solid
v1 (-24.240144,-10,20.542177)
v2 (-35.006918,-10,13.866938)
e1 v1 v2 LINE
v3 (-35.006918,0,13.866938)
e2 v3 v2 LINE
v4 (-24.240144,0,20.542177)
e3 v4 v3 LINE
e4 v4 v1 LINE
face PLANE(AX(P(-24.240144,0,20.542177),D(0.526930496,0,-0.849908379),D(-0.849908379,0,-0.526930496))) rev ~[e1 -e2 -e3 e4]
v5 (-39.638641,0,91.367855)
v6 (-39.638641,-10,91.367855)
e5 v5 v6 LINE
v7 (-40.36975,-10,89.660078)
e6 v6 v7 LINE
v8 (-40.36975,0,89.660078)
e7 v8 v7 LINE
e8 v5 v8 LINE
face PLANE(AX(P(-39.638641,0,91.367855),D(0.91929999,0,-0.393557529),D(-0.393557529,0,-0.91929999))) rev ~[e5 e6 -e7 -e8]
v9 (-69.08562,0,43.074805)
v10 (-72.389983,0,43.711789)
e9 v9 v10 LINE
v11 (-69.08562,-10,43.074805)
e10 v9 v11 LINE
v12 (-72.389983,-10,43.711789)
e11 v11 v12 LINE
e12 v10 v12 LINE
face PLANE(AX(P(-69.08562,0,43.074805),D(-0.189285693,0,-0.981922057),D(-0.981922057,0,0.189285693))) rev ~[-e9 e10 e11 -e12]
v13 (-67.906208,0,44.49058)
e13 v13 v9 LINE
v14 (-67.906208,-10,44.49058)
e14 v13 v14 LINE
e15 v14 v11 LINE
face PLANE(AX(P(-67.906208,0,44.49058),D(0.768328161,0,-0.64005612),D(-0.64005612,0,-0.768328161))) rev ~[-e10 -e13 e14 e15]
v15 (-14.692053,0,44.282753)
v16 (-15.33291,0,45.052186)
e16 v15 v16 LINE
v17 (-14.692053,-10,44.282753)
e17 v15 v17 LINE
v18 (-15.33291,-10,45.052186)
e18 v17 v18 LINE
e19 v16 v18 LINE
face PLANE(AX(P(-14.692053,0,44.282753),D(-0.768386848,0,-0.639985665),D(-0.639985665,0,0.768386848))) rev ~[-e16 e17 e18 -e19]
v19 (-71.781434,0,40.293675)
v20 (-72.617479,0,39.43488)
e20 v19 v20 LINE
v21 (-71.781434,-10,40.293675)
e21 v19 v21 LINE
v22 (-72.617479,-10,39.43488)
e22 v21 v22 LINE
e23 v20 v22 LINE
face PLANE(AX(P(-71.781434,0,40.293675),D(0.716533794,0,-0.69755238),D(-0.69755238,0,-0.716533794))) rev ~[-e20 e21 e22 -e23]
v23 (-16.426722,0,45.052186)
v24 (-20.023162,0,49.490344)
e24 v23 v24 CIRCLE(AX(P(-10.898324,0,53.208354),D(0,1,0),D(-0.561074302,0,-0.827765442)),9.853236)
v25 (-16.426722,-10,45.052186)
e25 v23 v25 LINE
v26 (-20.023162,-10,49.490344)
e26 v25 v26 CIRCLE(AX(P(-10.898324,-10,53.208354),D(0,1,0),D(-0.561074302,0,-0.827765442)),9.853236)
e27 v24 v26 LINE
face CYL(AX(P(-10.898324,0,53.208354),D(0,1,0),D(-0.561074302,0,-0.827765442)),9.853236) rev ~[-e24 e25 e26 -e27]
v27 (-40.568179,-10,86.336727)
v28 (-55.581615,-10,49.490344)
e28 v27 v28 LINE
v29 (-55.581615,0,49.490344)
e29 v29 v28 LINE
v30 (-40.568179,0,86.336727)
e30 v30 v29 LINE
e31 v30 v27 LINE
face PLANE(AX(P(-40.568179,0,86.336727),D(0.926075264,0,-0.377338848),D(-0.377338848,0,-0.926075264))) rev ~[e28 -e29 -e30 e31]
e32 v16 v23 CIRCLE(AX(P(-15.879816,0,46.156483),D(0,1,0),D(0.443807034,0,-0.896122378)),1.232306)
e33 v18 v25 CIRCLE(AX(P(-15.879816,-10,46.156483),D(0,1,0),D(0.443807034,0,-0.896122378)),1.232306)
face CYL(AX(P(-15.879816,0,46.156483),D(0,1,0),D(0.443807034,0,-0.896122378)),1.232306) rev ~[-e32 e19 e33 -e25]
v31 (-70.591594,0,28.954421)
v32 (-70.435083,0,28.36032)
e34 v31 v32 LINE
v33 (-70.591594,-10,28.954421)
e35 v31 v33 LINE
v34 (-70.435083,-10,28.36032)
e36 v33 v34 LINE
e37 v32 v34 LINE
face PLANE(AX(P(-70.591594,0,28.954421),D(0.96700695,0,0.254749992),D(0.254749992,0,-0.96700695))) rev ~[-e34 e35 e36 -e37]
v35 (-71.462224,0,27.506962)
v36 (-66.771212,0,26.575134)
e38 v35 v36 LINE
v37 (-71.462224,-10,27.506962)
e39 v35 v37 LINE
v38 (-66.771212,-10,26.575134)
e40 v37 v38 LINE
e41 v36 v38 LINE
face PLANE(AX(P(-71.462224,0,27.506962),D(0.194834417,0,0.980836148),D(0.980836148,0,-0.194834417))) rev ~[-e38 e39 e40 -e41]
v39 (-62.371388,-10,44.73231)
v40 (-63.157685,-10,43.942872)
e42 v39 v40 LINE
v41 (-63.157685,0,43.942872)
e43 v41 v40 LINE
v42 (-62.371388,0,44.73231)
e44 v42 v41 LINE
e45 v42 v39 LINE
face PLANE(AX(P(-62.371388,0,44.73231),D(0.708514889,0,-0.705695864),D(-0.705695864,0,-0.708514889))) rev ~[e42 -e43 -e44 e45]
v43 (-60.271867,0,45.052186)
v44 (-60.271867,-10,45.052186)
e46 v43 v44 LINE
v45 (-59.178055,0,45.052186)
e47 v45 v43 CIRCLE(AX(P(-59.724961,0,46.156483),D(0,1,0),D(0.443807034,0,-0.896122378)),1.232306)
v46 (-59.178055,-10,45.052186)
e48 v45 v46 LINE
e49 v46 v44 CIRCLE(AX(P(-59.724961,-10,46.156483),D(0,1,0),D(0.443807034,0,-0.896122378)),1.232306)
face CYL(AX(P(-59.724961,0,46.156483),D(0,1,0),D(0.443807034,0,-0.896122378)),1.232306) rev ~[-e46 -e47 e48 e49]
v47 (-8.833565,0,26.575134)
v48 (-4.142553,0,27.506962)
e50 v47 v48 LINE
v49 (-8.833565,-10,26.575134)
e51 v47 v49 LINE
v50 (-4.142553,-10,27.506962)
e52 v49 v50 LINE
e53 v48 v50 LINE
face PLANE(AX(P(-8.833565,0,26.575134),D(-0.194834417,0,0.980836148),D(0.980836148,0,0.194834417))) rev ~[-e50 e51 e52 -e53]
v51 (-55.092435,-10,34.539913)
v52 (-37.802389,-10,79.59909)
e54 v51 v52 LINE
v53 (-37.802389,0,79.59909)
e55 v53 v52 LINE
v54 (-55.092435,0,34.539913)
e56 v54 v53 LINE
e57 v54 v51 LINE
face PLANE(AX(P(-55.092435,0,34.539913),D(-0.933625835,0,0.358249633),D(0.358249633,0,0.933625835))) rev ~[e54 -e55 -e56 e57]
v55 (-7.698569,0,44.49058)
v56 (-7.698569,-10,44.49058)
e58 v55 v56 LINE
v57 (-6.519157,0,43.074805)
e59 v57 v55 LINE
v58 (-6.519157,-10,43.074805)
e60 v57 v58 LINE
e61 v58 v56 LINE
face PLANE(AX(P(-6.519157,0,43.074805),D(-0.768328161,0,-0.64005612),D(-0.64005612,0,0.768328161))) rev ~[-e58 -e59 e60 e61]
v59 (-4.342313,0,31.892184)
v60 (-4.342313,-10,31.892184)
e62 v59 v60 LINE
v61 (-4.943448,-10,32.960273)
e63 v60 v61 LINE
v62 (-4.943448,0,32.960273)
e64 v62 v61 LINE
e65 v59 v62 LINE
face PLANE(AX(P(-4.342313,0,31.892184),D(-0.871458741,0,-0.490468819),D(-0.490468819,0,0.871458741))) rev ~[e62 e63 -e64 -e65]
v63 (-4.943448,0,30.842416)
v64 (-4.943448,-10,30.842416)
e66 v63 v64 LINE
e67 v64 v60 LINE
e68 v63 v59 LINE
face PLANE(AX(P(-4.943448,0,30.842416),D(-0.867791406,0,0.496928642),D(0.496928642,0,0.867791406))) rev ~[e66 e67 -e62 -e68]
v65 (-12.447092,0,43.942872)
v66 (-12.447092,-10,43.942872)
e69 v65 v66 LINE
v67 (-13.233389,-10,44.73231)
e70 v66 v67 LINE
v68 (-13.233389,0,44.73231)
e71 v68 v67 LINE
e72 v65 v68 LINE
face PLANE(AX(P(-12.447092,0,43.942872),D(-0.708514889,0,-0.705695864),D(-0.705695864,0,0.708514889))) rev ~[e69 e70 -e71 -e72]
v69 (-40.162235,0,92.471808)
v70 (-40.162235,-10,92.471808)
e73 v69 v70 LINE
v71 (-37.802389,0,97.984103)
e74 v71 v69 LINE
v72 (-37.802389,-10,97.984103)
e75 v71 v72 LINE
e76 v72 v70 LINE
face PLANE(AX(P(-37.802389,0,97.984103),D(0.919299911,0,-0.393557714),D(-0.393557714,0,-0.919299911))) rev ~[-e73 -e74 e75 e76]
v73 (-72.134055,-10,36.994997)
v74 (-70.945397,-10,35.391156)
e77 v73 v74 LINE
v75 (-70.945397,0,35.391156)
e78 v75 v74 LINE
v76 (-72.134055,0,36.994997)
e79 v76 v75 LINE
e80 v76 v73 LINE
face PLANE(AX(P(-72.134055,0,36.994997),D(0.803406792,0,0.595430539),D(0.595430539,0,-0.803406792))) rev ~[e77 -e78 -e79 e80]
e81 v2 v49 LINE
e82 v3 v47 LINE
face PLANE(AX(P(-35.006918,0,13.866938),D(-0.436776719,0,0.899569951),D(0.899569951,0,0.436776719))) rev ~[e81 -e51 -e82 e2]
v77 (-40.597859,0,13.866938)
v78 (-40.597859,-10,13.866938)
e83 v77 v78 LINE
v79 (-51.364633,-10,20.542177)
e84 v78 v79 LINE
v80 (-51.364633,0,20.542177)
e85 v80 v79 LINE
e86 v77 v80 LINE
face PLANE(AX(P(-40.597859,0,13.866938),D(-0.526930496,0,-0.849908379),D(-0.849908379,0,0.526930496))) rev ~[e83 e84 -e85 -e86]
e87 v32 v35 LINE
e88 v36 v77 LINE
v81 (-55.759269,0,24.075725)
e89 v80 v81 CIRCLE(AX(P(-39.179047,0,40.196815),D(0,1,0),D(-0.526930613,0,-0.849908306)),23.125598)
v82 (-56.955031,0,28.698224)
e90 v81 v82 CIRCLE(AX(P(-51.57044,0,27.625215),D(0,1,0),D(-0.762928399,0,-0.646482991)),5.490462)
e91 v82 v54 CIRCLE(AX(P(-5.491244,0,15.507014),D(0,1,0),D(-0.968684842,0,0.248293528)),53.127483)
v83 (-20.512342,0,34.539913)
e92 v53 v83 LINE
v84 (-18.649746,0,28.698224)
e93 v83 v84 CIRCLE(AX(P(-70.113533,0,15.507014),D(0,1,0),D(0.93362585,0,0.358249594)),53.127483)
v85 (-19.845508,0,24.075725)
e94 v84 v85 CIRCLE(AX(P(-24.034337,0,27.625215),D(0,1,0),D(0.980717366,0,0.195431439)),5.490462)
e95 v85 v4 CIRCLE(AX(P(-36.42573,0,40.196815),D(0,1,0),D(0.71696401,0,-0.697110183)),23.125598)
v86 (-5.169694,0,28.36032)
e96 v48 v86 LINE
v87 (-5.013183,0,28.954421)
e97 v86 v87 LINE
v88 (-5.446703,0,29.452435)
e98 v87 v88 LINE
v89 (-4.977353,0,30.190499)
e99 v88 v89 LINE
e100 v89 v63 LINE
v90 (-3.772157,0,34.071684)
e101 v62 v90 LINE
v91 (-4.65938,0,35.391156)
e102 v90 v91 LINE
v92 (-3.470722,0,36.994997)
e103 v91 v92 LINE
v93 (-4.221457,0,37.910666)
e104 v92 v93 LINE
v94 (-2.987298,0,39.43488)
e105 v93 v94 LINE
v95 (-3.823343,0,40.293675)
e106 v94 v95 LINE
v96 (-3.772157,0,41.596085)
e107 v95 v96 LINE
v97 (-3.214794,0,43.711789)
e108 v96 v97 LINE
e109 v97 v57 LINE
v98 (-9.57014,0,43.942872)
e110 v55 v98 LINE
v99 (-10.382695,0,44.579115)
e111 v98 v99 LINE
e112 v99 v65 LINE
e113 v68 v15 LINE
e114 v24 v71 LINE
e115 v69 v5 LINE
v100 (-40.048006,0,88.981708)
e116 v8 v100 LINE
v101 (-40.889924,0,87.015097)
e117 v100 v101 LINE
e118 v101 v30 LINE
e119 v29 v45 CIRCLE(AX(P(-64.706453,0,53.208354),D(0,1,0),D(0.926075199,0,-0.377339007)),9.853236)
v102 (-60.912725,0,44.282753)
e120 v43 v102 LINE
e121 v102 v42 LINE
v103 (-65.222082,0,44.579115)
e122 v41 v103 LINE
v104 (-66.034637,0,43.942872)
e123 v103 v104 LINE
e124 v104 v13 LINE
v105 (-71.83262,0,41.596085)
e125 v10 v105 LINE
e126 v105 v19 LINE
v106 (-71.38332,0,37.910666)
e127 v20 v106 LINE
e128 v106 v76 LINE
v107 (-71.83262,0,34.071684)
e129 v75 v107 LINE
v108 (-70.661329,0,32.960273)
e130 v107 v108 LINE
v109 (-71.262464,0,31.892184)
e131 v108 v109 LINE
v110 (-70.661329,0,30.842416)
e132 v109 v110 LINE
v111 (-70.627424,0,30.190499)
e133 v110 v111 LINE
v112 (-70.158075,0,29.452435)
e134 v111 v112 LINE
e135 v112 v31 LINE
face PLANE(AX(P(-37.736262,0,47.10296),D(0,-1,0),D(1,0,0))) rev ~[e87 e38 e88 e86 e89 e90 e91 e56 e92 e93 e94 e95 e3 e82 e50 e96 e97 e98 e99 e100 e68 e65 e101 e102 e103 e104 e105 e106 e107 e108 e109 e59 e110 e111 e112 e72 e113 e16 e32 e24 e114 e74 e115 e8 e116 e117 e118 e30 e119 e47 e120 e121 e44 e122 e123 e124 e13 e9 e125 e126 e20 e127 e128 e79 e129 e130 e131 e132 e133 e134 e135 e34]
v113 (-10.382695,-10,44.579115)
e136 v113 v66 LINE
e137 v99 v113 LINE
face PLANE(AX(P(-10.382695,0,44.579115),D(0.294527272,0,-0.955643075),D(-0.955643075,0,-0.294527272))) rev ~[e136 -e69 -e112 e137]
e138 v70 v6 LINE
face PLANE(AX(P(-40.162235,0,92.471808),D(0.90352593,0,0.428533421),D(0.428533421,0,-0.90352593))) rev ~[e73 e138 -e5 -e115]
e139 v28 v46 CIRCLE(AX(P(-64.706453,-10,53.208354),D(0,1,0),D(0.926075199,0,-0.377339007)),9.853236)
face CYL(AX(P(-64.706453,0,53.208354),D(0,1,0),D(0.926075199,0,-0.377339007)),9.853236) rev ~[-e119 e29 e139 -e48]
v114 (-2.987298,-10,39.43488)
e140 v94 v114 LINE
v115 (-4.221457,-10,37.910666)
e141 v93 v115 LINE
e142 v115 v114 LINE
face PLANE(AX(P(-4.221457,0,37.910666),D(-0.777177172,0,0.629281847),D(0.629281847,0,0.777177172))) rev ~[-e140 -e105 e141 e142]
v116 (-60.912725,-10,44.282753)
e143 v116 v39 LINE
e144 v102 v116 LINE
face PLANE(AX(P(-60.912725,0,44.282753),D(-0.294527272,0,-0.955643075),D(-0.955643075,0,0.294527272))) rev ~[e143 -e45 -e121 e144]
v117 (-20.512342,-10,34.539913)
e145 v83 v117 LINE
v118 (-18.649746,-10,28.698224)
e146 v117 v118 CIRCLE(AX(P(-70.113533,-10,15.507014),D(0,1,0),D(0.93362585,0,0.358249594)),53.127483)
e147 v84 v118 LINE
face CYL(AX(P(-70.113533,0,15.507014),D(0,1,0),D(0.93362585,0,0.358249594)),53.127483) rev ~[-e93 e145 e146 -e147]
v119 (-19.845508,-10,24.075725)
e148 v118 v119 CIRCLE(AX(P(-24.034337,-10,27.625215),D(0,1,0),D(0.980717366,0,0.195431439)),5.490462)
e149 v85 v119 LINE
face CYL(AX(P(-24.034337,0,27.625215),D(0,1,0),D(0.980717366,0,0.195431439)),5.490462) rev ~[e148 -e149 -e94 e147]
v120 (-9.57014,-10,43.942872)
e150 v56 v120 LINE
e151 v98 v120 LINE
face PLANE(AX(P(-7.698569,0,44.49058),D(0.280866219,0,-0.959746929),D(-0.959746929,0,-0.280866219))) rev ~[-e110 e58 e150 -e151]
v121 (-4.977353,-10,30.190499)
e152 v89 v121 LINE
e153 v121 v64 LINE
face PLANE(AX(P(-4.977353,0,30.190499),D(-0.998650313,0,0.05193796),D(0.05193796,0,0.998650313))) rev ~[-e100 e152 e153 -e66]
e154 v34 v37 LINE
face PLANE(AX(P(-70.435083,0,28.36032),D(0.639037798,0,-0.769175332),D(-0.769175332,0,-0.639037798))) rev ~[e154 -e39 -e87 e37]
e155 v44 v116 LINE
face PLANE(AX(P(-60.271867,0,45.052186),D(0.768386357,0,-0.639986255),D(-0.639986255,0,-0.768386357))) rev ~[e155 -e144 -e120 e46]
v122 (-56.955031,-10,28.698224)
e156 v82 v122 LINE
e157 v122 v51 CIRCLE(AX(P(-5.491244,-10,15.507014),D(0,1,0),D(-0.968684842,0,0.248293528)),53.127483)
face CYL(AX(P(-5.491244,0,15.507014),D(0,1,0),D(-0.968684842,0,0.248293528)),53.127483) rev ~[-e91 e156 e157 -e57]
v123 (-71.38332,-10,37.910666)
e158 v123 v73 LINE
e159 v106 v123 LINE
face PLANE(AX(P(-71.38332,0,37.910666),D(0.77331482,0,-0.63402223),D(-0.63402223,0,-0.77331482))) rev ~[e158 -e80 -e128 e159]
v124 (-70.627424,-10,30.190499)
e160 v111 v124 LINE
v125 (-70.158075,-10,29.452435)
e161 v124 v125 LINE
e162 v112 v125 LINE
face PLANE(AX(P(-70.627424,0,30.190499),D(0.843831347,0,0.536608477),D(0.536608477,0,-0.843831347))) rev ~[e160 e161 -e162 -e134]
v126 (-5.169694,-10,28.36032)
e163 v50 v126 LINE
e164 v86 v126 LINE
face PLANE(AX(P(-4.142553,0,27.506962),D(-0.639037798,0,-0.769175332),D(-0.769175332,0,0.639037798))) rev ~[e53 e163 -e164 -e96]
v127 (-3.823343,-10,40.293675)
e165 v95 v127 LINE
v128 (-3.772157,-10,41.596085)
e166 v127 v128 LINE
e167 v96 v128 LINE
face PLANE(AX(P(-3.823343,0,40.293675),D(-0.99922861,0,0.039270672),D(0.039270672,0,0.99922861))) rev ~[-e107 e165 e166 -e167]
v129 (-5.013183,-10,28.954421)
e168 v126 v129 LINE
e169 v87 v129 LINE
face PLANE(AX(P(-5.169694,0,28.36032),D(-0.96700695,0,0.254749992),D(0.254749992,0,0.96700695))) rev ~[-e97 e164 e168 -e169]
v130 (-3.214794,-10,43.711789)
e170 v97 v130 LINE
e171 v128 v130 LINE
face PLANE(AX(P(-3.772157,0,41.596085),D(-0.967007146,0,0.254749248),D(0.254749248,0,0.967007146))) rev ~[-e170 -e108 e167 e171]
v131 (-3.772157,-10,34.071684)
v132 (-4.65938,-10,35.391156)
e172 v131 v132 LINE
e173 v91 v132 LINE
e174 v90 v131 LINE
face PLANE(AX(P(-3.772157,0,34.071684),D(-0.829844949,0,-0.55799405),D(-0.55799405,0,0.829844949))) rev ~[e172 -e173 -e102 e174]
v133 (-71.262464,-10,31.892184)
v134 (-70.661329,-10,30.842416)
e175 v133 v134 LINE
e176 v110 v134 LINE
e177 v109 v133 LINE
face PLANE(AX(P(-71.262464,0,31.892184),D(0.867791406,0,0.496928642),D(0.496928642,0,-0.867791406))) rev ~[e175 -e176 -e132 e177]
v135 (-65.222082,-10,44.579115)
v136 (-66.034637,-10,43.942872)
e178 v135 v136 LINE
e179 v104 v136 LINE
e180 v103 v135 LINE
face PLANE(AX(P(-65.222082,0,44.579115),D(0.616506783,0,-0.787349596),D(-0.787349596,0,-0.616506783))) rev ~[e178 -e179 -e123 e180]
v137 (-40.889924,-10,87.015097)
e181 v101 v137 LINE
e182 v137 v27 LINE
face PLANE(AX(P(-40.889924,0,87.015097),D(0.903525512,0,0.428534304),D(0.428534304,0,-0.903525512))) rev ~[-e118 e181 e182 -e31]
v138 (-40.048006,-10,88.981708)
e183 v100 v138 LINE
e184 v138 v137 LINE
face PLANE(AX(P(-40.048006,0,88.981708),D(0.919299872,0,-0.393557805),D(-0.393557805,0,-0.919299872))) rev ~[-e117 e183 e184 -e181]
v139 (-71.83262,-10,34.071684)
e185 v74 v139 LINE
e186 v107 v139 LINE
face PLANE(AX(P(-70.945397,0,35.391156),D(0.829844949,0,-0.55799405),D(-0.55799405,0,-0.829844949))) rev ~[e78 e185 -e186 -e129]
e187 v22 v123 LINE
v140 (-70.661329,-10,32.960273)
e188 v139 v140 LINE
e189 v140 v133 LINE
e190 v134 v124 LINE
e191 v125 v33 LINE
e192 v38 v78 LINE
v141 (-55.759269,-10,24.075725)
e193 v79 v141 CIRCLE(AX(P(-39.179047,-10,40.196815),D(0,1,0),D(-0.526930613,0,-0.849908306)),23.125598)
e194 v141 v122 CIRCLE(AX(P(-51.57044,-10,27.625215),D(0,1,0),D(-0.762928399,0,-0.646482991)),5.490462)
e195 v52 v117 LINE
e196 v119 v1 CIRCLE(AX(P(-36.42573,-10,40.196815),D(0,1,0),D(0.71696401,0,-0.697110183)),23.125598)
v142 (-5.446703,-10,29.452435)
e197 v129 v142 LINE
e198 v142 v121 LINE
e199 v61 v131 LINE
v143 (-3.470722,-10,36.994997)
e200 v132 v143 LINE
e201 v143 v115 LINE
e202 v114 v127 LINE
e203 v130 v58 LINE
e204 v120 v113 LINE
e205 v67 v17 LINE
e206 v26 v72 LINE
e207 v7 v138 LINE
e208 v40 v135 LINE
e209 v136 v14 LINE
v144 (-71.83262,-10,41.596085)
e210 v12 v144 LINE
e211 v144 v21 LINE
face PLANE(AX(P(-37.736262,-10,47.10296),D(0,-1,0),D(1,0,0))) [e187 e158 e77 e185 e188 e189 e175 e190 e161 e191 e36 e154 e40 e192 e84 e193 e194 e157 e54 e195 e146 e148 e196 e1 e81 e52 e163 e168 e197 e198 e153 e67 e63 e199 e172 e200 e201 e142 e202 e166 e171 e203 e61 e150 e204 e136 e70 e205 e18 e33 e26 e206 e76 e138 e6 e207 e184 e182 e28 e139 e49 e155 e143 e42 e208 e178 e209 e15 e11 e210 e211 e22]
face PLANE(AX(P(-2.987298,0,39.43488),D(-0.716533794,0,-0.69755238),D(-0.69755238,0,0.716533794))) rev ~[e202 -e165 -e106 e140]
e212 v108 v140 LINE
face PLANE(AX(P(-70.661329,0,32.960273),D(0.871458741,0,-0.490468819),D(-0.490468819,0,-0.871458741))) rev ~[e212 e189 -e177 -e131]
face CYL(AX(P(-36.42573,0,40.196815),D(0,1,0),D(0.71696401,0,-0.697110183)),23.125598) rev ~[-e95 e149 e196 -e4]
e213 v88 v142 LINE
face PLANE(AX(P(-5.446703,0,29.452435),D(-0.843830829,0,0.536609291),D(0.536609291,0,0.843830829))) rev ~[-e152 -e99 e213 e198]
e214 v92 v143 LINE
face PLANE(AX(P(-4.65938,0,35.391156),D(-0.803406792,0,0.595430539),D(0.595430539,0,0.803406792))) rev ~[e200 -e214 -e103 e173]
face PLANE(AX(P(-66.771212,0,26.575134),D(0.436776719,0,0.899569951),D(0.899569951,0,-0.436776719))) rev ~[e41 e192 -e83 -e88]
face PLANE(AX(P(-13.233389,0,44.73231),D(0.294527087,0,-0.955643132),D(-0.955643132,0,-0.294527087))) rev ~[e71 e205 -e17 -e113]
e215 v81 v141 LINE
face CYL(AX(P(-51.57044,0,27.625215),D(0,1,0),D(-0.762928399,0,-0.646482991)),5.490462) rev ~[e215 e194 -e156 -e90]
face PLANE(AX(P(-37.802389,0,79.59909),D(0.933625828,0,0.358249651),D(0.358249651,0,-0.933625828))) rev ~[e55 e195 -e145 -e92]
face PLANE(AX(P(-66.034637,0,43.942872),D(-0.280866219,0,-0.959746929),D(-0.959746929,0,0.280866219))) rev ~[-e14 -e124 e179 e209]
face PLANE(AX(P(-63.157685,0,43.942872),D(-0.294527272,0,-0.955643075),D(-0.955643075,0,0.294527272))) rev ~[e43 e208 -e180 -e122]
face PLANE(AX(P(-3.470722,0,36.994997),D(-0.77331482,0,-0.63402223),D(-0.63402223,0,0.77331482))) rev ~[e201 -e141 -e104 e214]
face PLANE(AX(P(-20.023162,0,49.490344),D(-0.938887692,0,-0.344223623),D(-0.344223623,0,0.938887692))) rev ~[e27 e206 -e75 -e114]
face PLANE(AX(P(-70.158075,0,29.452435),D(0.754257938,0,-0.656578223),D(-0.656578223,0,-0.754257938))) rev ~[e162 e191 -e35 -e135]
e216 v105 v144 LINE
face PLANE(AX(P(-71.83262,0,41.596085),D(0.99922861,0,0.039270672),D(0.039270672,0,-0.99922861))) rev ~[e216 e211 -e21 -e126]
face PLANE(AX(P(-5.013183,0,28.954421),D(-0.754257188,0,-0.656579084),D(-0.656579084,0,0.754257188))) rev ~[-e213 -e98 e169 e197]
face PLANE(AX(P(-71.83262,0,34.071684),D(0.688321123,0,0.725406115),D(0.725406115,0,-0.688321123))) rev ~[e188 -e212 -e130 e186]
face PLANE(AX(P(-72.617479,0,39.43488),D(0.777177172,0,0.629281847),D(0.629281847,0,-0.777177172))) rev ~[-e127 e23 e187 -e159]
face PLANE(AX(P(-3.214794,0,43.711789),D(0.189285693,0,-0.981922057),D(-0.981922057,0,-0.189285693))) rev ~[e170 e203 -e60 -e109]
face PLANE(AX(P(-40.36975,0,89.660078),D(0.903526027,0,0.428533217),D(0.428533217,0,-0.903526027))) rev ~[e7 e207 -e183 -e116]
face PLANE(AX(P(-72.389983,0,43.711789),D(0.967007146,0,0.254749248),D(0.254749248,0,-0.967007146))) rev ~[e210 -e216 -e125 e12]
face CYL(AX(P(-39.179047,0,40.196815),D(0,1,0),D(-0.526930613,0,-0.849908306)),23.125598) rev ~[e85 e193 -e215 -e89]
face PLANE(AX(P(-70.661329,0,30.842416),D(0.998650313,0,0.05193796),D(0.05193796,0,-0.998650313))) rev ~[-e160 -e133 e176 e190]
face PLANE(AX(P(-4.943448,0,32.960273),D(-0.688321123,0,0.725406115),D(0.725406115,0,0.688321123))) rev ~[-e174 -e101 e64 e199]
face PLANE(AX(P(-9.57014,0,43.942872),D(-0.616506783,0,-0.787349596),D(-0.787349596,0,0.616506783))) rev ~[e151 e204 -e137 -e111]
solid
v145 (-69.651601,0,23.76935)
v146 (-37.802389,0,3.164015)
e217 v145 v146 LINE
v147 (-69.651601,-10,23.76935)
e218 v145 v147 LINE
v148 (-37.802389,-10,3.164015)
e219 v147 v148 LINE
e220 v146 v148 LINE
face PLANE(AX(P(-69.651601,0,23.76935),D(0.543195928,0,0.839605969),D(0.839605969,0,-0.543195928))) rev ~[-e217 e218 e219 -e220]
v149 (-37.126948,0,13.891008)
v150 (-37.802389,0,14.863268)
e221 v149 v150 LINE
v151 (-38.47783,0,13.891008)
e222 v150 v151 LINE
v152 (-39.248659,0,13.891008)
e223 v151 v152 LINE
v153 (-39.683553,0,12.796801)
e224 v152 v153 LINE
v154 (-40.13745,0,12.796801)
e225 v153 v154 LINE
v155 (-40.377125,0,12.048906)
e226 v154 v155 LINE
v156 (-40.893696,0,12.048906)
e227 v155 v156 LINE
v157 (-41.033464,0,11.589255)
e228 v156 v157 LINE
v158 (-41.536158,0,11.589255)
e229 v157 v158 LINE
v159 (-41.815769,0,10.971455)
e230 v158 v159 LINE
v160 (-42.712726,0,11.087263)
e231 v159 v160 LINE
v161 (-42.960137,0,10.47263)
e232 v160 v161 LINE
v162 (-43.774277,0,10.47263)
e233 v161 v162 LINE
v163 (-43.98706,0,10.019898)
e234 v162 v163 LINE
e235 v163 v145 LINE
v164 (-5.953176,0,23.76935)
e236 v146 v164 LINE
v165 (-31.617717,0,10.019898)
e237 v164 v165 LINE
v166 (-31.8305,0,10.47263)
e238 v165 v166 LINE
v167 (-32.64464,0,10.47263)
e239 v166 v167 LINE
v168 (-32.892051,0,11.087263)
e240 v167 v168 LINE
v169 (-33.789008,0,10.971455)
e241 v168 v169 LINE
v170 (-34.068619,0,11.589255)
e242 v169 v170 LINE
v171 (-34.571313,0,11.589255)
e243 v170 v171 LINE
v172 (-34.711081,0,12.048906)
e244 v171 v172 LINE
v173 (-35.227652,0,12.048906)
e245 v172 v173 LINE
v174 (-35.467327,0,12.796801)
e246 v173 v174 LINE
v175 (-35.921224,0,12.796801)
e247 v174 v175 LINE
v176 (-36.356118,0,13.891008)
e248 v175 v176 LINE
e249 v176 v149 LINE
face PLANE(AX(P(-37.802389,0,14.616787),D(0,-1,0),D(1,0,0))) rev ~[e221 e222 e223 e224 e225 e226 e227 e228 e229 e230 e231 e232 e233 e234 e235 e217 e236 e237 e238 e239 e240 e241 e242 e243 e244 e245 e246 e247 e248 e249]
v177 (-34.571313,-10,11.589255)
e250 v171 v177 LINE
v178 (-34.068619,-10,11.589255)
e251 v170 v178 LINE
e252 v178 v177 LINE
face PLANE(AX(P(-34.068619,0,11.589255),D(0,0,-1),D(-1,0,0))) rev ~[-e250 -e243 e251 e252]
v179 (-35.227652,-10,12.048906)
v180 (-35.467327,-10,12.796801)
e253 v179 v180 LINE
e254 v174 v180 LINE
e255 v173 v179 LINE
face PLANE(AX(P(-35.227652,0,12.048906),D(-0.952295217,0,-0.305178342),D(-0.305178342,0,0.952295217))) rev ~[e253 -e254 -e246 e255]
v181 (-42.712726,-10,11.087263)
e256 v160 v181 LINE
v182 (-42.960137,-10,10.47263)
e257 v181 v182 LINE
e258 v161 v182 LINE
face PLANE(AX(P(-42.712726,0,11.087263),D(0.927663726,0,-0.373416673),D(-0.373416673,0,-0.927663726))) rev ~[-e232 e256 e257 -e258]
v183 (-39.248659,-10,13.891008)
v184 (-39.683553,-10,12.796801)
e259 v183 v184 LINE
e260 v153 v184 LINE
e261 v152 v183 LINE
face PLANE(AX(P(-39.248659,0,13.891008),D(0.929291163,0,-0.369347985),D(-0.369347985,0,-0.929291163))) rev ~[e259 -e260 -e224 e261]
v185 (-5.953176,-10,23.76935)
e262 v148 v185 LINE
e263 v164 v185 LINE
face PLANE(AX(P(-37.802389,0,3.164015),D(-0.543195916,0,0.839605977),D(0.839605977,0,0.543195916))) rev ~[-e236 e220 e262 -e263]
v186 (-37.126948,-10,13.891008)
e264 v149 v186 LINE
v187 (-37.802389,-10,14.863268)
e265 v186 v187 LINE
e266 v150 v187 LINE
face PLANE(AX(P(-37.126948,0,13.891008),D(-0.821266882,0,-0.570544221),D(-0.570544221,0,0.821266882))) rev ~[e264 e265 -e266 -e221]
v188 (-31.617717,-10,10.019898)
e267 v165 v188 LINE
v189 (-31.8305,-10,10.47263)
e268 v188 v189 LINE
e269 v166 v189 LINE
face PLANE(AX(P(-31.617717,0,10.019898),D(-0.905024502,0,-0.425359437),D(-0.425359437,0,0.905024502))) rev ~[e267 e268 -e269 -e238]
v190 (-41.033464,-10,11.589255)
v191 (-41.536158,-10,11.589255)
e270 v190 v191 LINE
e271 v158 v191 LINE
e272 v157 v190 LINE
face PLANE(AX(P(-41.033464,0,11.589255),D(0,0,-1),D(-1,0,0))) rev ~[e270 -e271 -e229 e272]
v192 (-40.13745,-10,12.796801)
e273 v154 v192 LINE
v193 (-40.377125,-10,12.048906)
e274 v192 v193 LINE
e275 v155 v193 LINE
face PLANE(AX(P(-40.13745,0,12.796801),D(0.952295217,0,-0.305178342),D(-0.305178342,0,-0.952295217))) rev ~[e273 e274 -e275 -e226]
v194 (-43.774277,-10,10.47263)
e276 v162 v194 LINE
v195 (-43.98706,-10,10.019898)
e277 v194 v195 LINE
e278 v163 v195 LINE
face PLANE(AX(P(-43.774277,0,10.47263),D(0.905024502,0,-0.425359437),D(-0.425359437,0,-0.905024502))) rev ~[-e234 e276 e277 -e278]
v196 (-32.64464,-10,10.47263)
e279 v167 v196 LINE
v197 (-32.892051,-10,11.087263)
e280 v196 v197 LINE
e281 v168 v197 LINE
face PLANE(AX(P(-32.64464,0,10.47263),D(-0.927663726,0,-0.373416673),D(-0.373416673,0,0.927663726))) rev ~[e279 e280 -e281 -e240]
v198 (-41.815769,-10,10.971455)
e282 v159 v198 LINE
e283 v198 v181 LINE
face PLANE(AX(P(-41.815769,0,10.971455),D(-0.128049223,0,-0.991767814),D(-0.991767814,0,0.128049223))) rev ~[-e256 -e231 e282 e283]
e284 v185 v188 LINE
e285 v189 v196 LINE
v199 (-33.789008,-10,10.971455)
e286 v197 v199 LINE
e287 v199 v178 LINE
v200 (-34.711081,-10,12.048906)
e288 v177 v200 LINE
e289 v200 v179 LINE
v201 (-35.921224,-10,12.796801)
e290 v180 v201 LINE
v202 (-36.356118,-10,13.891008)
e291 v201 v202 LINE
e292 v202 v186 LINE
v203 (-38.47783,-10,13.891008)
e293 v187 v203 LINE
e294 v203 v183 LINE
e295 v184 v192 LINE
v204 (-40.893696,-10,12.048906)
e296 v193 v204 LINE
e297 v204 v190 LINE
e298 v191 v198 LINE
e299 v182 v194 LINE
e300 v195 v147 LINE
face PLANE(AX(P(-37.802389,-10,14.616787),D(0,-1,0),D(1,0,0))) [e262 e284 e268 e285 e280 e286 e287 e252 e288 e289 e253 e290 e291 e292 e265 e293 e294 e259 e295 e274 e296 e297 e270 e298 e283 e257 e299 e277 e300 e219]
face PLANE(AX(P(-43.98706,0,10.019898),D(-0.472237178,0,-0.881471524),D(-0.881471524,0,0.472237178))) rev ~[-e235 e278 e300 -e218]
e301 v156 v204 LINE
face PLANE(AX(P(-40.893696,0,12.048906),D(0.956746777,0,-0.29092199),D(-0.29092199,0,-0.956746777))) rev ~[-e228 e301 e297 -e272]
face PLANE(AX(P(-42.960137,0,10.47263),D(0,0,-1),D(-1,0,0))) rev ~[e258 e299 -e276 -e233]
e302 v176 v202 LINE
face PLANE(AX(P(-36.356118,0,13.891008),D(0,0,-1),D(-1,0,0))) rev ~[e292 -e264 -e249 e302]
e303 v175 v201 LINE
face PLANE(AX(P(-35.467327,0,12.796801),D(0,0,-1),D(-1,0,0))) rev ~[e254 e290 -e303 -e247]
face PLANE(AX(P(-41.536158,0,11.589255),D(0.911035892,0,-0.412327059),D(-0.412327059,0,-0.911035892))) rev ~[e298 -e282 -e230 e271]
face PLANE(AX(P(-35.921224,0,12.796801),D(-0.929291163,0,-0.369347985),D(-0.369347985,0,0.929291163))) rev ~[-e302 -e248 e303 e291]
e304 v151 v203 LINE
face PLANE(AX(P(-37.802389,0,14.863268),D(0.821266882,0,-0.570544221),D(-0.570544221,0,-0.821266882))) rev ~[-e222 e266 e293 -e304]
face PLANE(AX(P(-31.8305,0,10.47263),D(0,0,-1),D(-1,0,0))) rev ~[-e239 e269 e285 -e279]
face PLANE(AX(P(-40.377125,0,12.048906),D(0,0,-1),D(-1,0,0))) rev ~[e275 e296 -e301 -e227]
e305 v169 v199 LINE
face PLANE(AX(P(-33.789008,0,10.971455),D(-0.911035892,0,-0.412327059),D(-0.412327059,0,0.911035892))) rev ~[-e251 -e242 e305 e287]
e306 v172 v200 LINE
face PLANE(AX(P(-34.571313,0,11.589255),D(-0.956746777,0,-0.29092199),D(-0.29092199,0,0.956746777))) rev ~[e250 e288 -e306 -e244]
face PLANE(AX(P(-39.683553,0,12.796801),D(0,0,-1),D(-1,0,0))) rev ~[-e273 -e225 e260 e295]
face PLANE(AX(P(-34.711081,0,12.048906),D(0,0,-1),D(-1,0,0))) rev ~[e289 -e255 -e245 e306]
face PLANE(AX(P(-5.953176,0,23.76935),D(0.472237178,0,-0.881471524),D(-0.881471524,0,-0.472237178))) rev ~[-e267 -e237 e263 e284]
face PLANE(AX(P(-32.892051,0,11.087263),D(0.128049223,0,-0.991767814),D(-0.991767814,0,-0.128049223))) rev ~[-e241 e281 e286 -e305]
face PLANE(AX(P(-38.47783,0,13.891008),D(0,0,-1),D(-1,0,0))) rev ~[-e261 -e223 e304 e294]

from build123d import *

# Parameters (mm, degrees)
F1_DEPTH = 10


with BuildPart() as f1:
    # F0 (on Front) → F1 (new body)
    with BuildSketch(Plane.XZ):
        with BuildLine():
            Line((-20.023162, 49.490344), (-37.802389, 97.984103))
            Line((-37.802389, 97.984103), (-40.162235, 92.471808))
            Line((-40.162235, 92.471808), (-39.638641, 91.367855))
            Line((-39.638641, 91.367855), (-40.36975, 89.660078))
            Line((-40.36975, 89.660078), (-40.048006, 88.981708))
            Line((-40.048006, 88.981708), (-40.889924, 87.015097))
            Line((-40.889924, 87.015097), (-40.568179, 86.336727))
            Line((-40.568179, 86.336727), (-55.581615, 49.490344))
            ThreePointArc((-55.581615, 49.490344), (-57.051152, 47.004917), (-59.178055, 45.052186))
            ThreePointArc((-59.178055, 45.052186), (-59.724961, 44.924177), (-60.271867, 45.052186))
            Line((-60.271867, 45.052186), (-60.912725, 44.282753))
            Line((-60.912725, 44.282753), (-62.371388, 44.73231))
            Line((-62.371388, 44.73231), (-63.157685, 43.942872))
            Line((-63.157685, 43.942872), (-65.222082, 44.579115))
            Line((-65.222082, 44.579115), (-66.034637, 43.942872))
            Line((-66.034637, 43.942872), (-67.906208, 44.49058))
            Line((-67.906208, 44.49058), (-69.08562, 43.074805))
            Line((-69.08562, 43.074805), (-72.389983, 43.711789))
            Line((-72.389983, 43.711789), (-71.83262, 41.596085))
            Line((-71.83262, 41.596085), (-71.781434, 40.293675))
            Line((-71.781434, 40.293675), (-72.617479, 39.43488))
            Line((-72.617479, 39.43488), (-71.38332, 37.910666))
            Line((-71.38332, 37.910666), (-72.134055, 36.994997))
            Line((-72.134055, 36.994997), (-70.945397, 35.391156))
            Line((-70.945397, 35.391156), (-71.83262, 34.071684))
            Line((-71.83262, 34.071684), (-70.661329, 32.960273))
            Line((-70.661329, 32.960273), (-71.262464, 31.892184))
            Line((-71.262464, 31.892184), (-70.661329, 30.842416))
            Line((-70.661329, 30.842416), (-70.627424, 30.190499))
            Line((-70.627424, 30.190499), (-70.158075, 29.452435))
            Line((-70.158075, 29.452435), (-70.591594, 28.954421))
            Line((-70.591594, 28.954421), (-70.435083, 28.36032))
            Line((-70.435083, 28.36032), (-71.462224, 27.506962))
            Line((-71.462224, 27.506962), (-66.771212, 26.575134))
            Line((-66.771212, 26.575134), (-40.597859, 13.866938))
            Line((-40.597859, 13.866938), (-51.364633, 20.542177))
            ThreePointArc((-51.364633, 20.542177), (-53.670059, 22.174499), (-55.759269, 24.075725))
            ThreePointArc((-55.759269, 24.075725), (-56.885933, 26.250187), (-56.955031, 28.698224))
            ThreePointArc((-56.955031, 28.698224), (-56.108077, 31.645961), (-55.092435, 34.539913))
            Line((-55.092435, 34.539913), (-37.802389, 79.59909))
            Line((-37.802389, 79.59909), (-20.512342, 34.539913))
            ThreePointArc((-20.512342, 34.539913), (-19.4967, 31.645961), (-18.649746, 28.698224))
            ThreePointArc((-18.649746, 28.698224), (-18.718844, 26.250187), (-19.845508, 24.075725))
            ThreePointArc((-19.845508, 24.075725), (-21.934718, 22.174499), (-24.240144, 20.542177))
            Line((-24.240144, 20.542177), (-35.006918, 13.866938))
            Line((-35.006918, 13.866938), (-8.833565, 26.575134))
            Line((-8.833565, 26.575134), (-4.142553, 27.506962))
            Line((-4.142553, 27.506962), (-5.169694, 28.36032))
            Line((-5.169694, 28.36032), (-5.013183, 28.954421))
            Line((-5.013183, 28.954421), (-5.446703, 29.452435))
            Line((-5.446703, 29.452435), (-4.977353, 30.190499))
            Line((-4.977353, 30.190499), (-4.943448, 30.842416))
            Line((-4.943448, 30.842416), (-4.342313, 31.892184))
            Line((-4.342313, 31.892184), (-4.943448, 32.960273))
            Line((-4.943448, 32.960273), (-3.772157, 34.071684))
            Line((-3.772157, 34.071684), (-4.65938, 35.391156))
            Line((-4.65938, 35.391156), (-3.470722, 36.994997))
            Line((-3.470722, 36.994997), (-4.221457, 37.910666))
            Line((-4.221457, 37.910666), (-2.987298, 39.43488))
            Line((-2.987298, 39.43488), (-3.823343, 40.293675))
            Line((-3.823343, 40.293675), (-3.772157, 41.596085))
            Line((-3.772157, 41.596085), (-3.214794, 43.711789))
            Line((-3.214794, 43.711789), (-6.519157, 43.074805))
            Line((-6.519157, 43.074805), (-7.698569, 44.49058))
            Line((-7.698569, 44.49058), (-9.57014, 43.942872))
            Line((-9.57014, 43.942872), (-10.382695, 44.579115))
            Line((-10.382695, 44.579115), (-12.447092, 43.942872))
            Line((-12.447092, 43.942872), (-13.233389, 44.73231))
            Line((-13.233389, 44.73231), (-14.692053, 44.282753))
            Line((-14.692053, 44.282753), (-15.33291, 45.052186))
            ThreePointArc((-15.33291, 45.052186), (-15.879816, 44.924177), (-16.426722, 45.052186))
            ThreePointArc((-16.426722, 45.052186), (-18.553625, 47.004917), (-20.023162, 49.490344))
        make_face()
        Polygon((-43.98706, 10.019898), (-69.651601, 23.76935), (-37.802389, 3.164015), (-5.953176, 23.76935), (-31.617717, 10.019898), (-31.8305, 10.47263), (-32.64464, 10.47263), (-32.892051, 11.087263), (-33.789008, 10.971455), (-34.068619, 11.589255), (-34.571313, 11.589255), (-34.711081, 12.048906), (-35.227652, 12.048906), (-35.467327, 12.796801), (-35.921224, 12.796801), (-36.356118, 13.891008), (-37.126948, 13.891008), (-37.802389, 14.863268), (-38.47783, 13.891008), (-39.248659, 13.891008), (-39.683553, 12.796801), (-40.13745, 12.796801), (-40.377125, 12.048906), (-40.893696, 12.048906), (-41.033464, 11.589255), (-41.536158, 11.589255), (-41.815769, 10.971455), (-42.712726, 11.087263), (-42.960137, 10.47263), (-43.774277, 10.47263), align=None)
    extrude(amount=F1_DEPTH)


solid = f1.part
